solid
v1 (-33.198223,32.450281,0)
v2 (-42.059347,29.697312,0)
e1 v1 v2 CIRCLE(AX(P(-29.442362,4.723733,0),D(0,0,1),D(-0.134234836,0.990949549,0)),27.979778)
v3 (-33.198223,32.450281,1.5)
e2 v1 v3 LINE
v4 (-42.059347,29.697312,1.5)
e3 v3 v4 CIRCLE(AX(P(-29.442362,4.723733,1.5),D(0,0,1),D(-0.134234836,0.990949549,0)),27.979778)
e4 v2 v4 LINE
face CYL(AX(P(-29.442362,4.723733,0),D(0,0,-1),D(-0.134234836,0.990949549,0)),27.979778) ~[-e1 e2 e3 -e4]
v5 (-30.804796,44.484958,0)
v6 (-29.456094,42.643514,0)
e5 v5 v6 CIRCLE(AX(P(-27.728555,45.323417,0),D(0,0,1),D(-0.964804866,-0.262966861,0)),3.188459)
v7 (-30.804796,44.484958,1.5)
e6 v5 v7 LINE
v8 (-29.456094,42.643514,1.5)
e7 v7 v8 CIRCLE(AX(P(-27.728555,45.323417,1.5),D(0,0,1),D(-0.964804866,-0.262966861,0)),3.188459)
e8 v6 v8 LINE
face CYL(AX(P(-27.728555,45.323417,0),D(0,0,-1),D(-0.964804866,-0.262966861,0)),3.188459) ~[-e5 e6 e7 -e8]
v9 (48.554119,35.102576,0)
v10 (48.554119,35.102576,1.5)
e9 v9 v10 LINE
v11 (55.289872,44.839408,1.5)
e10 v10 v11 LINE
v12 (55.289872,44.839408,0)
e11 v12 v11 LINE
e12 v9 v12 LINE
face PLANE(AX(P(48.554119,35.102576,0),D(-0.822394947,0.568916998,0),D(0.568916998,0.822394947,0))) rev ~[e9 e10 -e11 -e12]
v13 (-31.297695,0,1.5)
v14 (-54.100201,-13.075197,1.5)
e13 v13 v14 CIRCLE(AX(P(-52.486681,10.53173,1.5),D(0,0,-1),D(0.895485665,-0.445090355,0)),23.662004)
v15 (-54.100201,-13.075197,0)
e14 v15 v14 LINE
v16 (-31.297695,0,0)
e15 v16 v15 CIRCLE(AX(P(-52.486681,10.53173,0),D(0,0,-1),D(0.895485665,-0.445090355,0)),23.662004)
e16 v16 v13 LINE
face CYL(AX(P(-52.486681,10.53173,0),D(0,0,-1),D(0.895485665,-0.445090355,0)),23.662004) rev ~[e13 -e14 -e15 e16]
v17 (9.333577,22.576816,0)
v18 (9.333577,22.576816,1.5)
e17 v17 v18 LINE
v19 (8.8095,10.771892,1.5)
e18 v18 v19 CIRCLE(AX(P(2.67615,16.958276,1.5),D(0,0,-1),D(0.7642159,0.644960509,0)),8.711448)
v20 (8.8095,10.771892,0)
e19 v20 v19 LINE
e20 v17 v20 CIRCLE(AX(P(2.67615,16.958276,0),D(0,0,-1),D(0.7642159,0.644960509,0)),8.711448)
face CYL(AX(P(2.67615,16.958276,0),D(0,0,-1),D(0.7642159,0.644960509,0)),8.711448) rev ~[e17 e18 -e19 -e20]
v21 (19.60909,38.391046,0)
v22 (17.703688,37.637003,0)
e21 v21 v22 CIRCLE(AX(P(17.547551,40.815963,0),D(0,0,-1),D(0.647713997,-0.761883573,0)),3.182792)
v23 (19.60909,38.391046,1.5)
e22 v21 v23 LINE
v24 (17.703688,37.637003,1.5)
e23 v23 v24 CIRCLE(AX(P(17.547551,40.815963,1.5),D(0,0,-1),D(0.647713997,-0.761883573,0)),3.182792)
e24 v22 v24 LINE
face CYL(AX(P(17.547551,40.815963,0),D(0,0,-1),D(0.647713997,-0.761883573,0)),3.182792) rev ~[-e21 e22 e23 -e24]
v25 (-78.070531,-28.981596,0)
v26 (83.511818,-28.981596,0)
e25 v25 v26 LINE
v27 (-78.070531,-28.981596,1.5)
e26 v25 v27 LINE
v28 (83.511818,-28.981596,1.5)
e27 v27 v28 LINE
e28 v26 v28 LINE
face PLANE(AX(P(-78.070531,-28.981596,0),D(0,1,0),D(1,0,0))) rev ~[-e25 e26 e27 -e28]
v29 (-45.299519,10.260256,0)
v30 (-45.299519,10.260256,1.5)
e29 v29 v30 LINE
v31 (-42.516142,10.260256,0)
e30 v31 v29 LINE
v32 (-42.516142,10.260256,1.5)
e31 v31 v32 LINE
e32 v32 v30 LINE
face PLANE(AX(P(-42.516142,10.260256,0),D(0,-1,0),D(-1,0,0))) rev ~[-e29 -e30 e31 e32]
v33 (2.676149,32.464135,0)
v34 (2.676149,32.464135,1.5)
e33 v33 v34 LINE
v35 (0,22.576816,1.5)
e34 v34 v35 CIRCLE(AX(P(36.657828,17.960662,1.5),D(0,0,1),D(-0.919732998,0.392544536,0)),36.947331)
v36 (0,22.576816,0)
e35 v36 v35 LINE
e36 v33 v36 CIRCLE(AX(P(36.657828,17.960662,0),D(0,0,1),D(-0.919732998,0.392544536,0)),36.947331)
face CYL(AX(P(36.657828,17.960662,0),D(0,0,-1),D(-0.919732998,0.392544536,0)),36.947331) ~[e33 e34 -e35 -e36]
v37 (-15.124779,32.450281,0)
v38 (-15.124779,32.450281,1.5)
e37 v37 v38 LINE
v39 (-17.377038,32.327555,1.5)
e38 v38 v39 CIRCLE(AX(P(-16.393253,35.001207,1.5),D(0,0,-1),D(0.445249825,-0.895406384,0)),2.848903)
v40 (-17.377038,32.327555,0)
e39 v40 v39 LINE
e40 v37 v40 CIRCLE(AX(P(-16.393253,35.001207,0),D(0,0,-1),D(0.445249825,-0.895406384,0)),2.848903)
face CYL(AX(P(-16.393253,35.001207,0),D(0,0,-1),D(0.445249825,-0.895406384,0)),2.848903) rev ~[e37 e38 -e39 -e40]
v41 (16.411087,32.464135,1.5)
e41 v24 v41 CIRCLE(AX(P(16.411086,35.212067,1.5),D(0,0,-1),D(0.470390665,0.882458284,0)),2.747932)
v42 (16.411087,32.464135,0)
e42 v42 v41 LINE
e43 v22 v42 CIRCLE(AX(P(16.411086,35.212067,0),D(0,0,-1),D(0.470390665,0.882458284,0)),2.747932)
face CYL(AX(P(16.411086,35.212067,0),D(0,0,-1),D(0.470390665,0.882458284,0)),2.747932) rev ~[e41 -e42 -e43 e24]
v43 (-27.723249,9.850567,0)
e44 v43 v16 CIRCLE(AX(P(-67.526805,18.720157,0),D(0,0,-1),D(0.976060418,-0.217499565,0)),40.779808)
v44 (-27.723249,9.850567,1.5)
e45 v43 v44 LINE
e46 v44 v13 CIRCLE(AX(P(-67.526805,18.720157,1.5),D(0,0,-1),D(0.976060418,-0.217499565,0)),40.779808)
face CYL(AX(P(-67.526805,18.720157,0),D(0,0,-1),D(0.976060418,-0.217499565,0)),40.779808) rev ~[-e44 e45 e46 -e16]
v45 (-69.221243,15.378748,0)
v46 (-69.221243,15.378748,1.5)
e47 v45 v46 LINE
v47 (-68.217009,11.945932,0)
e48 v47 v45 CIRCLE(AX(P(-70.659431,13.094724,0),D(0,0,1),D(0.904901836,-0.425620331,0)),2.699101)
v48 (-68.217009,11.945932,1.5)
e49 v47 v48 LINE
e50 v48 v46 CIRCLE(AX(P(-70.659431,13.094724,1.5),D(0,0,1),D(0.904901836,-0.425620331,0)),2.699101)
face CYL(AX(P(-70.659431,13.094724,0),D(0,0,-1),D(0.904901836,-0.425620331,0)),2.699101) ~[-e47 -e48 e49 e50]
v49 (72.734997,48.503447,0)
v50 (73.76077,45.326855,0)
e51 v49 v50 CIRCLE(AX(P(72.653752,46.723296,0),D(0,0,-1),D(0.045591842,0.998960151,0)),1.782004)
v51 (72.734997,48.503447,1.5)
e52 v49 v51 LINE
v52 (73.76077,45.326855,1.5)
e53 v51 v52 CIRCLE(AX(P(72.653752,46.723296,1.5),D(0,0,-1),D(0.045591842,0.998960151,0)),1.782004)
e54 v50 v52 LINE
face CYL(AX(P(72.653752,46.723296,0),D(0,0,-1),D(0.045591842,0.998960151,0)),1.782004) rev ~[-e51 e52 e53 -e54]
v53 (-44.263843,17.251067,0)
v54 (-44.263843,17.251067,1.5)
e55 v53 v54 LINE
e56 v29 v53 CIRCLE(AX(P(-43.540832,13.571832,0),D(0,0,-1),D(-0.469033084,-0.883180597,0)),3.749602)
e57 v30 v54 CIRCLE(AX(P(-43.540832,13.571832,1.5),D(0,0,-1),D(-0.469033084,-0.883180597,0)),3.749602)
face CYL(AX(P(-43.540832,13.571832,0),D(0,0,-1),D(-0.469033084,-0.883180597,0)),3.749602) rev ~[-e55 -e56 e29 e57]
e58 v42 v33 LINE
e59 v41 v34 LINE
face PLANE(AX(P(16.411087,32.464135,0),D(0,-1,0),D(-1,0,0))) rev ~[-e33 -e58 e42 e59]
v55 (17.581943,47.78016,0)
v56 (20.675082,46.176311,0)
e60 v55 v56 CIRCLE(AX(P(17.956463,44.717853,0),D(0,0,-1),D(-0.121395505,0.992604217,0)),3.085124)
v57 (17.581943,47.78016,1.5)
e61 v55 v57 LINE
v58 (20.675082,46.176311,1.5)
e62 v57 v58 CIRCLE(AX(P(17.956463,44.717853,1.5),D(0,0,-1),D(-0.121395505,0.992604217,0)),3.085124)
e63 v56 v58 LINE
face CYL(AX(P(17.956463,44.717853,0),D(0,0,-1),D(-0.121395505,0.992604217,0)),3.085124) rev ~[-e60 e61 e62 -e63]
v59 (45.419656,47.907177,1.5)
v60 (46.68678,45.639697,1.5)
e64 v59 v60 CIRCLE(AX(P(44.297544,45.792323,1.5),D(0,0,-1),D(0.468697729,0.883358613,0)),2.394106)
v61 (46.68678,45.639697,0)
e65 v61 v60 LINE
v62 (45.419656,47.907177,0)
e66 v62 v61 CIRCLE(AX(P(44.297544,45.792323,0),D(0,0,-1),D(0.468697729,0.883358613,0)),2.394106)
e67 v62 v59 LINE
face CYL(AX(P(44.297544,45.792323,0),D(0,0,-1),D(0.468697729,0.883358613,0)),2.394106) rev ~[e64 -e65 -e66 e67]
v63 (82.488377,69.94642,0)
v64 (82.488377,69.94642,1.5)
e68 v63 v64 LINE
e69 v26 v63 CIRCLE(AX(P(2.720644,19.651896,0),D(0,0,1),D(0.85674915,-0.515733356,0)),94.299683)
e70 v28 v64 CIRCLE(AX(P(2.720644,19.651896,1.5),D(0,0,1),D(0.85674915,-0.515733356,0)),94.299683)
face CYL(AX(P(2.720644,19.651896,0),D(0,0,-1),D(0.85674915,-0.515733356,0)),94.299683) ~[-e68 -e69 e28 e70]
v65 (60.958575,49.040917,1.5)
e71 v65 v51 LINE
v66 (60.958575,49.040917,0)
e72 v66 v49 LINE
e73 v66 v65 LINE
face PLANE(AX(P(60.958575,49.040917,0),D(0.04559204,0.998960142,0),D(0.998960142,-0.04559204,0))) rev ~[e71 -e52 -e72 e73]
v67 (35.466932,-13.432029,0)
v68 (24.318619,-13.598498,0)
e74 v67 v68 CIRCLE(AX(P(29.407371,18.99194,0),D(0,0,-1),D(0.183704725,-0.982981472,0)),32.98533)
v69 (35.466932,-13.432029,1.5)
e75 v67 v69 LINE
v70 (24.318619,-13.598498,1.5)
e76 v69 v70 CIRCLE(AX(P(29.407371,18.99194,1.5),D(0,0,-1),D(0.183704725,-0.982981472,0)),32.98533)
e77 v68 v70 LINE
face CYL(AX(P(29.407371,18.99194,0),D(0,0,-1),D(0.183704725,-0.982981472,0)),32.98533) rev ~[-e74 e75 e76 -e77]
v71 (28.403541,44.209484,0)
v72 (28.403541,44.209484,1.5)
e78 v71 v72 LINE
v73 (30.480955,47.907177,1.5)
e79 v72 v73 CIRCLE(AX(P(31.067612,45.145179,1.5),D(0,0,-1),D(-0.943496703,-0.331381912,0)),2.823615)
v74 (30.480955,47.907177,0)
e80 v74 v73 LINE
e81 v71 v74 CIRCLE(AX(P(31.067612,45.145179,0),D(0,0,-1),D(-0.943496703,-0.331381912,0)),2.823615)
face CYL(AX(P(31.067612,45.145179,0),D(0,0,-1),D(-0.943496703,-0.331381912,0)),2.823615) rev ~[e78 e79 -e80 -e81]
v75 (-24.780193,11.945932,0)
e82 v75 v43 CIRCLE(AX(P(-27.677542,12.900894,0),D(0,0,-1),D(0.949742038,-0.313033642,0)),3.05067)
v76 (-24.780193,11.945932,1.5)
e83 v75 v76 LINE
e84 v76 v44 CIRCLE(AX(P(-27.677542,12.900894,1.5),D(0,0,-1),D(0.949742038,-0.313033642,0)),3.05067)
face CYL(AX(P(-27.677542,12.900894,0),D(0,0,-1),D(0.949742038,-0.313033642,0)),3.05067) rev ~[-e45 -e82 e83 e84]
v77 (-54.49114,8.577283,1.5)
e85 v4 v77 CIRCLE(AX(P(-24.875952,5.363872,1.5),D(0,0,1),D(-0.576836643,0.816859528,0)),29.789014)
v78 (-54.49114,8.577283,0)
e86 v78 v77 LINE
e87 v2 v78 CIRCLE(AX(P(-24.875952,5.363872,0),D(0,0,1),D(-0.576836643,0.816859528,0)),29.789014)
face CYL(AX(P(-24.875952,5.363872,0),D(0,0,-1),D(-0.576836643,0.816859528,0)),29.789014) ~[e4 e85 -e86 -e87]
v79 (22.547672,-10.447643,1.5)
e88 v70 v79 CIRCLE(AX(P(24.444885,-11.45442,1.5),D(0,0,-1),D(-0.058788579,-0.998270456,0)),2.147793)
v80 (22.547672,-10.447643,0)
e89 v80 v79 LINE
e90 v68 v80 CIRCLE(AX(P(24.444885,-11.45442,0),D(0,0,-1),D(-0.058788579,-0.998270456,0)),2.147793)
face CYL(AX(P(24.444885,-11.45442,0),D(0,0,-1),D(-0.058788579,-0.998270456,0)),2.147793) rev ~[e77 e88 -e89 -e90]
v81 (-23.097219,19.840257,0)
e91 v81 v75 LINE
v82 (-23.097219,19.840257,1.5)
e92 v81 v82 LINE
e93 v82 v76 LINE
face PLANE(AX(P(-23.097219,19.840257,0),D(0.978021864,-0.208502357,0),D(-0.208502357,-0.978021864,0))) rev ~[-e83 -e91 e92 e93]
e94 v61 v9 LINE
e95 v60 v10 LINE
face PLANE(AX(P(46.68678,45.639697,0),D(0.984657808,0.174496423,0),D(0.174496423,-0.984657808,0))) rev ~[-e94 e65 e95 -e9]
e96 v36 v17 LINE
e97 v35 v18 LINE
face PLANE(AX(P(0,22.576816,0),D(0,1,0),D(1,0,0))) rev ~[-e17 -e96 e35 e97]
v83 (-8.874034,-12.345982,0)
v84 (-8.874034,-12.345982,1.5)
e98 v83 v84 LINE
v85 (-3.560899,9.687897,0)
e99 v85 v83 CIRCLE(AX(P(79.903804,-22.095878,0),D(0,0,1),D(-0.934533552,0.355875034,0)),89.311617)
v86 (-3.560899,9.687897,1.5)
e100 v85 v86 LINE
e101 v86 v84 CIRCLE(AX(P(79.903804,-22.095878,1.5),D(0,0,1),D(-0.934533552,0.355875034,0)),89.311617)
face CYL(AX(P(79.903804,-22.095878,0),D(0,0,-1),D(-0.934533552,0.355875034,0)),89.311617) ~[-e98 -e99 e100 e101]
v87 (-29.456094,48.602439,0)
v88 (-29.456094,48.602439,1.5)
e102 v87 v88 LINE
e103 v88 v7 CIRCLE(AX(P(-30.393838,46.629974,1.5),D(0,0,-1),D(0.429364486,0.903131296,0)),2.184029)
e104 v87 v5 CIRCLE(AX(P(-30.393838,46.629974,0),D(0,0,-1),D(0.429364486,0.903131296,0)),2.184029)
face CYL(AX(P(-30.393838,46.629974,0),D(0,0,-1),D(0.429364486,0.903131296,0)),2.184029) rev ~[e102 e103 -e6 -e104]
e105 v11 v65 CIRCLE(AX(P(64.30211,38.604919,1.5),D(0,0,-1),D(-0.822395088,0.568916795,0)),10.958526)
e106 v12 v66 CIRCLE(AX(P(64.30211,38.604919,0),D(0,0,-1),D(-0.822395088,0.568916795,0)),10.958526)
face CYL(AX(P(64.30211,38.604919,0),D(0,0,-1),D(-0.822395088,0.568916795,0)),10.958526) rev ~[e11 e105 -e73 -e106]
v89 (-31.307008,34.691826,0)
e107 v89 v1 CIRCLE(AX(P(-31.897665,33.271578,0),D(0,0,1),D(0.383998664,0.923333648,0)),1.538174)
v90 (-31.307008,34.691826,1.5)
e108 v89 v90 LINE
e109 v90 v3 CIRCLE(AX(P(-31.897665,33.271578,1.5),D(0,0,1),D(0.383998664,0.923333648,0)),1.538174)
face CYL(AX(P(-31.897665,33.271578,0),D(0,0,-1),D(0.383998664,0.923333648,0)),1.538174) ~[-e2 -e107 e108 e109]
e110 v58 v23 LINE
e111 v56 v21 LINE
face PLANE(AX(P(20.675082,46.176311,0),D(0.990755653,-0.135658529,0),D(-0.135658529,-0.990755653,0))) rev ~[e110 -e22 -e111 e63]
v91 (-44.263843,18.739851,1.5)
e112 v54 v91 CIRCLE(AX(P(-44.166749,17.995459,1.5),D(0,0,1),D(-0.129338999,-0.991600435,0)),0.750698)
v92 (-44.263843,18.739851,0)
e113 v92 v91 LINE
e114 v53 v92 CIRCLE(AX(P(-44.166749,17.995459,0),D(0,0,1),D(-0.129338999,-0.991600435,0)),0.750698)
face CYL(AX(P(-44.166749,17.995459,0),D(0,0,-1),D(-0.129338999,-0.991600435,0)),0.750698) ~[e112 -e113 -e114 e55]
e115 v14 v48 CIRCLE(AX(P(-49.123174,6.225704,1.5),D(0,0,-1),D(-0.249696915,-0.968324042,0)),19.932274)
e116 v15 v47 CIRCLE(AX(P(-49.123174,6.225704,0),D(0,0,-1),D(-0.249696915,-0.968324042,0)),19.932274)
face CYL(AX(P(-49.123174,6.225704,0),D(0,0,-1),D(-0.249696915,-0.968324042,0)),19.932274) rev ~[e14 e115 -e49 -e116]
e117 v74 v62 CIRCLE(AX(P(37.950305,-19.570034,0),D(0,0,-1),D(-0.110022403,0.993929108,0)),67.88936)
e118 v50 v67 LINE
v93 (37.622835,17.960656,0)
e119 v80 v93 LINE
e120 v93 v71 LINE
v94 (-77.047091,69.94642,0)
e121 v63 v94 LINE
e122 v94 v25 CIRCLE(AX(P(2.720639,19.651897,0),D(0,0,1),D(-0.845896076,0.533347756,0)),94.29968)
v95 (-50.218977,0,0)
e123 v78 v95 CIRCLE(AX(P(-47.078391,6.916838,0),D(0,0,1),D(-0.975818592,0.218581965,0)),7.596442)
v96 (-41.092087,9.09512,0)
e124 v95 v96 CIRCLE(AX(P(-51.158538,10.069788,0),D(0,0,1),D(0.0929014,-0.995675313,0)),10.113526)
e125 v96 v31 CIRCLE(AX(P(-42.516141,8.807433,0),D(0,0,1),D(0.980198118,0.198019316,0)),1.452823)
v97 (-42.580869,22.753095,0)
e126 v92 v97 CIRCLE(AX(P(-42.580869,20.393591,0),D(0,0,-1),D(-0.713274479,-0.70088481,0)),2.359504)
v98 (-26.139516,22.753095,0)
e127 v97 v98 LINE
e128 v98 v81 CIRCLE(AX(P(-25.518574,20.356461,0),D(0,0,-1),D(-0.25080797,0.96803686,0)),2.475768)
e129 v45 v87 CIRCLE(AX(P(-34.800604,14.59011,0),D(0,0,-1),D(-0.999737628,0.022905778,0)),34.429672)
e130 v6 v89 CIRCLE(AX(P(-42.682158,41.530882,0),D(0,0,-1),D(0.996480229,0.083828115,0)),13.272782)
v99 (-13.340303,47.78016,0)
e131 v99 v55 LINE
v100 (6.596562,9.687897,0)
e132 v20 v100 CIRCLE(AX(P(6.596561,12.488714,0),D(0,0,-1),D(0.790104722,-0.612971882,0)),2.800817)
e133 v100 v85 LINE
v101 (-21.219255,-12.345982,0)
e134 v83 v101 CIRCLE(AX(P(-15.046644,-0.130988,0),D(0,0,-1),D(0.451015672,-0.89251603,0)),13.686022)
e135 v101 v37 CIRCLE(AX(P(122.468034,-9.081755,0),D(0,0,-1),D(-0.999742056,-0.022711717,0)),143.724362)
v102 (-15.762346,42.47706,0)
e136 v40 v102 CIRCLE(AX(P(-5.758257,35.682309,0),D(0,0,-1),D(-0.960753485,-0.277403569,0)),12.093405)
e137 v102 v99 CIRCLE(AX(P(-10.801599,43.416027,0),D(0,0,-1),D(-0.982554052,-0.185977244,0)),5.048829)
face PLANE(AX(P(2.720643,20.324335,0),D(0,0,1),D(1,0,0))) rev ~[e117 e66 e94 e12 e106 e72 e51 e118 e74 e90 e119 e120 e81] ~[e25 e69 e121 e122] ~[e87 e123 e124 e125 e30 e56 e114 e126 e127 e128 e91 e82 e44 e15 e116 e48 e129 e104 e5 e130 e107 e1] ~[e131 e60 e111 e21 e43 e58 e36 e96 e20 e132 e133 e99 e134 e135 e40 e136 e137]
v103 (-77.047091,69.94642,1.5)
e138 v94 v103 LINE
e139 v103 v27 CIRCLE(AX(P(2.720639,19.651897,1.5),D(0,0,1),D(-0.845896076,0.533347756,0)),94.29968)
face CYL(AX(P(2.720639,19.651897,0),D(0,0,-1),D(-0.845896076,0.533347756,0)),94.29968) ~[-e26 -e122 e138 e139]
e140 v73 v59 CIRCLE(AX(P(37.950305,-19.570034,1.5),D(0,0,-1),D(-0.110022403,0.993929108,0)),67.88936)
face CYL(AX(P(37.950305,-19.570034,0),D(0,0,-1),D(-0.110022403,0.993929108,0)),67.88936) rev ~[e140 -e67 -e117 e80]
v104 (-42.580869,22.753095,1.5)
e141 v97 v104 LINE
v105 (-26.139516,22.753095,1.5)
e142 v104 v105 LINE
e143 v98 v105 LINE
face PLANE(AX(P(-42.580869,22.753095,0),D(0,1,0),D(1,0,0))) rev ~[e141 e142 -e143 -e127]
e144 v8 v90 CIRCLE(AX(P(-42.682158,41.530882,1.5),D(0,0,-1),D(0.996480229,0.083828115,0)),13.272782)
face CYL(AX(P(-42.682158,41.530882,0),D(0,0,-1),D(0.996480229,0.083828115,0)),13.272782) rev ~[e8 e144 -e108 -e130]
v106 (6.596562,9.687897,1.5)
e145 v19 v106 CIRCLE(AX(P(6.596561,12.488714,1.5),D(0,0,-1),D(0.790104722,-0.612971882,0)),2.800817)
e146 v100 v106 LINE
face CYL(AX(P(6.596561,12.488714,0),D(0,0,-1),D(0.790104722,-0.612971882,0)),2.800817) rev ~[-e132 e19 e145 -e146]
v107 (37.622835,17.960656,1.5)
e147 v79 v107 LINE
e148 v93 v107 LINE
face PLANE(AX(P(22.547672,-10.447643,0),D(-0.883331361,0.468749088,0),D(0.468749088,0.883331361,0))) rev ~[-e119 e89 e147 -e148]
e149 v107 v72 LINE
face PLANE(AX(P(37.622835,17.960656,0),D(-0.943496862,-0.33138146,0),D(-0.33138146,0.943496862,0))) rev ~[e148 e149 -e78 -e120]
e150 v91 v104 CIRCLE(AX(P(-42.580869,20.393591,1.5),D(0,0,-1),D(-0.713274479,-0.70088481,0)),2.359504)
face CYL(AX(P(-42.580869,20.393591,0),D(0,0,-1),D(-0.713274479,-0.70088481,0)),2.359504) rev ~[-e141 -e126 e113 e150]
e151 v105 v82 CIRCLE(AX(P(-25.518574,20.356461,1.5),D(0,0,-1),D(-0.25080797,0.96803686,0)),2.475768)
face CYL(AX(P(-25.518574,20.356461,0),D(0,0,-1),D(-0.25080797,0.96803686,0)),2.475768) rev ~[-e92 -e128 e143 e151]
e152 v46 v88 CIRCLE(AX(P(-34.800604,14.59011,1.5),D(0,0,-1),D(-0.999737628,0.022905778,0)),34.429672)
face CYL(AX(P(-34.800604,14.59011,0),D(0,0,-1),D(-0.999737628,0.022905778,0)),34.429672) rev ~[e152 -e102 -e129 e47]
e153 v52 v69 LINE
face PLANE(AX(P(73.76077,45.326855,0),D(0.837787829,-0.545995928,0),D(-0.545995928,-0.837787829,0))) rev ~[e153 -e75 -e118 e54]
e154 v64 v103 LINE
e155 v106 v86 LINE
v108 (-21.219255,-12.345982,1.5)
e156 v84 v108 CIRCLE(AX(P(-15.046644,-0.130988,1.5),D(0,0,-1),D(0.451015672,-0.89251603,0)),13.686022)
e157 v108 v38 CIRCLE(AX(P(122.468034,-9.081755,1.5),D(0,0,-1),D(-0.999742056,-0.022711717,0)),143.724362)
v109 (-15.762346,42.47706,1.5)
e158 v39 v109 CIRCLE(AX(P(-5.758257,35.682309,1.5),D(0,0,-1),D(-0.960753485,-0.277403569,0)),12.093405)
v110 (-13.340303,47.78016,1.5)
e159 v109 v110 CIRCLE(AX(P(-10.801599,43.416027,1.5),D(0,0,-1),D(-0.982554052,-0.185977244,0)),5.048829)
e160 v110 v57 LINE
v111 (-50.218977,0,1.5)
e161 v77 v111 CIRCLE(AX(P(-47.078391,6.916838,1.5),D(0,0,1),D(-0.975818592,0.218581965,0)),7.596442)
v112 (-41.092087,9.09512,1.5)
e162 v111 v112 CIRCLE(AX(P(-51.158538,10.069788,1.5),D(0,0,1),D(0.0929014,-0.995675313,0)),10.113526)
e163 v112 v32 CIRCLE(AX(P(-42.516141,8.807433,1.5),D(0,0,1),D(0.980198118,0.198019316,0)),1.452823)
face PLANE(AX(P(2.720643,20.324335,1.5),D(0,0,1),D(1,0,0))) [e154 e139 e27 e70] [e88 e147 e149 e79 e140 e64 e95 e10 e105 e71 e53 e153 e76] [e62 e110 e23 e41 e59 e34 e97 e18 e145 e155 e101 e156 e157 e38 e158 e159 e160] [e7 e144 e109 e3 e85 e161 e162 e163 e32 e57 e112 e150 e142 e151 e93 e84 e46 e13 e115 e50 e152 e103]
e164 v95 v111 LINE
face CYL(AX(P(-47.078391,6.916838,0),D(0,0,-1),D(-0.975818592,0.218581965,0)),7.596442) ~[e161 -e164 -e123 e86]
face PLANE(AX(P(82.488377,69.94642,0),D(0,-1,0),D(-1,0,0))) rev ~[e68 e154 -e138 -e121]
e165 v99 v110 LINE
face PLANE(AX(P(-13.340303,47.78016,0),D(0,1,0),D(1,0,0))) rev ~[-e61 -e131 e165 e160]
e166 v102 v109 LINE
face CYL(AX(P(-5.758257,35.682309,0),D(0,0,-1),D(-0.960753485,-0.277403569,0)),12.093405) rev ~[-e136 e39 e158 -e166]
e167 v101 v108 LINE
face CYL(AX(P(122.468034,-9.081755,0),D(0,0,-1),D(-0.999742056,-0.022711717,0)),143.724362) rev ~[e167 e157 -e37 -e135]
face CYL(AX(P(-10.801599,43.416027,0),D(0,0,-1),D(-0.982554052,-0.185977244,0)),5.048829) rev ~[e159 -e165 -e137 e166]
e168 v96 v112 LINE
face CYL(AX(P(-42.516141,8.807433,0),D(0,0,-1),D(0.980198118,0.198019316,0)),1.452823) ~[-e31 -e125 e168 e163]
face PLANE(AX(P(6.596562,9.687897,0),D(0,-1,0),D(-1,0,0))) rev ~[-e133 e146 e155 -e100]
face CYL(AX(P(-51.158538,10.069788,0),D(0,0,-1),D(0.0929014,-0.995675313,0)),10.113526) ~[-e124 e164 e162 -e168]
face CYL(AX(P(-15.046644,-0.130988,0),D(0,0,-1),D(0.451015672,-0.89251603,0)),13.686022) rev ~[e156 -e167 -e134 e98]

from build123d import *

# Parameters (mm, degrees)
F1_DEPTH = 1.5


with BuildPart() as f1:
    # F0 (on Top) → F1 (new body)
    with BuildSketch(Plane.XY):
        with BuildLine():
            Line((-78.070531, -28.981596), (83.511818, -28.981596))
            ThreePointArc((83.511818, -28.981596), (97.015282, 20.627403), (82.488377, 69.94642))
            Line((82.488377, 69.94642), (-77.047091, 69.94642))
            ThreePointArc((-77.047091, 69.94642), (-91.573996, 20.627403), (-78.070531, -28.981596))
        make_face()
        with BuildLine():
            ThreePointArc((-69.221243, 15.378748), (-56.875674, 41.011571), (-29.456094, 48.602439))
            ThreePointArc((-29.456094, 48.602439), (-28.318317, 45.950127), (-30.804796, 44.484958))
            ThreePointArc((-30.804796, 44.484958), (-30.30087, 43.439414), (-29.456094, 42.643514))
            ThreePointArc((-29.456094, 42.643514), (-29.754967, 38.52182), (-31.307008, 34.691826))
            ThreePointArc((-31.307008, 34.691826), (-33.073301, 34.263475), (-33.198223, 32.450281))
            ThreePointArc((-33.198223, 32.450281), (-37.743701, 31.443683), (-42.059347, 29.697312))
            ThreePointArc((-42.059347, 29.697312), (-50.547741, 20.474948), (-54.49114, 8.577283))
            ThreePointArc((-54.49114, 8.577283), (-53.878072, 3.53006), (-50.218977, 0))
            ThreePointArc((-50.218977, 0), (-44.019674, 2.905988), (-41.092087, 9.09512))
            ThreePointArc((-41.092087, 9.09512), (-41.596159, 9.931856), (-42.516142, 10.260256))
            Line((-42.516142, 10.260256), (-45.299519, 10.260256))
            ThreePointArc((-45.299519, 10.260256), (-47.249951, 14.121331), (-44.263843, 17.251067))
            ThreePointArc((-44.263843, 17.251067), (-43.416051, 17.995459), (-44.263843, 18.739851))
            ThreePointArc((-44.263843, 18.739851), (-44.75679, 21.306075), (-42.580869, 22.753095))
            Line((-42.580869, 22.753095), (-26.139516, 22.753095))
            ThreePointArc((-26.139516, 22.753095), (-23.806404, 22.144728), (-23.097219, 19.840257))
            Line((-23.097219, 19.840257), (-24.780193, 11.945932))
            ThreePointArc((-24.780193, 11.945932), (-25.908191, 10.415742), (-27.723249, 9.850567))
            ThreePointArc((-27.723249, 9.850567), (-29.192747, 4.809992), (-31.297695, 0))
            ThreePointArc((-31.297695, 0), (-40.716383, -9.995095), (-54.100201, -13.075197))
            ThreePointArc((-54.100201, -13.075197), (-66.483065, -3.568669), (-68.217009, 11.945932))
            ThreePointArc((-68.217009, 11.945932), (-68.068902, 13.852556), (-69.221243, 15.378748))
        make_face(mode=Mode.SUBTRACT)
        with BuildLine():
            ThreePointArc((-21.219255, -12.345982), (-19.944396, 10.29328), (-15.124779, 32.450281))
            ThreePointArc((-15.124779, 32.450281), (-16.238245, 32.156524), (-17.377038, 32.327555))
            ThreePointArc((-17.377038, 32.327555), (-17.701466, 37.582362), (-15.762346, 42.47706))
            ThreePointArc((-15.762346, 42.47706), (-15.39411, 45.513529), (-13.340303, 47.78016))
            Line((-13.340303, 47.78016), (17.581943, 47.78016))
            ThreePointArc((17.581943, 47.78016), (19.376598, 47.456686), (20.675082, 46.176311))
            Line((20.675082, 46.176311), (19.60909, 38.391046))
            ThreePointArc((19.60909, 38.391046), (18.718733, 37.856487), (17.703688, 37.637003))
            ThreePointArc((17.703688, 37.637003), (19.077047, 34.545895), (16.411087, 32.464135))
            Line((16.411087, 32.464135), (2.676149, 32.464135))
            ThreePointArc((2.676149, 32.464135), (0.993774, 27.613666), (0, 22.576816))
            Line((0, 22.576816), (9.333577, 22.576816))
            ThreePointArc((9.333577, 22.576816), (11.379026, 16.571914), (8.8095, 10.771892))
            ThreePointArc((8.8095, 10.771892), (7.828648, 9.973453), (6.596562, 9.687897))
            Line((6.596562, 9.687897), (-3.560899, 9.687897))
            ThreePointArc((-3.560899, 9.687897), (-6.91927, -1.159813), (-8.874034, -12.345982))
            ThreePointArc((-8.874034, -12.345982), (-15.046644, -13.81701), (-21.219255, -12.345982))
        make_face(mode=Mode.SUBTRACT)
        with BuildLine():
            ThreePointArc((24.318619, -13.598498), (22.572563, -12.506763), (22.547672, -10.447643))
            Line((22.547672, -10.447643), (37.622835, 17.960656))
            Line((37.622835, 17.960656), (28.403541, 44.209484))
            ThreePointArc((28.403541, 44.209484), (28.605897, 46.528204), (30.480955, 47.907177))
            ThreePointArc((30.480955, 47.907177), (37.950305, 48.319326), (45.419656, 47.907177))
            ThreePointArc((45.419656, 47.907177), (46.387462, 46.960221), (46.68678, 45.639697))
            Line((46.68678, 45.639697), (48.554119, 35.102576))
            Line((48.554119, 35.102576), (55.289872, 44.839408))
            ThreePointArc((55.289872, 44.839408), (57.776817, 47.408886), (60.958575, 49.040917))
            Line((60.958575, 49.040917), (72.734997, 48.503447))
            ThreePointArc((72.734997, 48.503447), (74.349534, 47.270892), (73.76077, 45.326855))
            Line((73.76077, 45.326855), (35.466932, -13.432029))
            ThreePointArc((35.466932, -13.432029), (29.89986, -13.989714), (24.318619, -13.598498))
        make_face(mode=Mode.SUBTRACT)
    extrude(amount=F1_DEPTH)


solid = f1.part
